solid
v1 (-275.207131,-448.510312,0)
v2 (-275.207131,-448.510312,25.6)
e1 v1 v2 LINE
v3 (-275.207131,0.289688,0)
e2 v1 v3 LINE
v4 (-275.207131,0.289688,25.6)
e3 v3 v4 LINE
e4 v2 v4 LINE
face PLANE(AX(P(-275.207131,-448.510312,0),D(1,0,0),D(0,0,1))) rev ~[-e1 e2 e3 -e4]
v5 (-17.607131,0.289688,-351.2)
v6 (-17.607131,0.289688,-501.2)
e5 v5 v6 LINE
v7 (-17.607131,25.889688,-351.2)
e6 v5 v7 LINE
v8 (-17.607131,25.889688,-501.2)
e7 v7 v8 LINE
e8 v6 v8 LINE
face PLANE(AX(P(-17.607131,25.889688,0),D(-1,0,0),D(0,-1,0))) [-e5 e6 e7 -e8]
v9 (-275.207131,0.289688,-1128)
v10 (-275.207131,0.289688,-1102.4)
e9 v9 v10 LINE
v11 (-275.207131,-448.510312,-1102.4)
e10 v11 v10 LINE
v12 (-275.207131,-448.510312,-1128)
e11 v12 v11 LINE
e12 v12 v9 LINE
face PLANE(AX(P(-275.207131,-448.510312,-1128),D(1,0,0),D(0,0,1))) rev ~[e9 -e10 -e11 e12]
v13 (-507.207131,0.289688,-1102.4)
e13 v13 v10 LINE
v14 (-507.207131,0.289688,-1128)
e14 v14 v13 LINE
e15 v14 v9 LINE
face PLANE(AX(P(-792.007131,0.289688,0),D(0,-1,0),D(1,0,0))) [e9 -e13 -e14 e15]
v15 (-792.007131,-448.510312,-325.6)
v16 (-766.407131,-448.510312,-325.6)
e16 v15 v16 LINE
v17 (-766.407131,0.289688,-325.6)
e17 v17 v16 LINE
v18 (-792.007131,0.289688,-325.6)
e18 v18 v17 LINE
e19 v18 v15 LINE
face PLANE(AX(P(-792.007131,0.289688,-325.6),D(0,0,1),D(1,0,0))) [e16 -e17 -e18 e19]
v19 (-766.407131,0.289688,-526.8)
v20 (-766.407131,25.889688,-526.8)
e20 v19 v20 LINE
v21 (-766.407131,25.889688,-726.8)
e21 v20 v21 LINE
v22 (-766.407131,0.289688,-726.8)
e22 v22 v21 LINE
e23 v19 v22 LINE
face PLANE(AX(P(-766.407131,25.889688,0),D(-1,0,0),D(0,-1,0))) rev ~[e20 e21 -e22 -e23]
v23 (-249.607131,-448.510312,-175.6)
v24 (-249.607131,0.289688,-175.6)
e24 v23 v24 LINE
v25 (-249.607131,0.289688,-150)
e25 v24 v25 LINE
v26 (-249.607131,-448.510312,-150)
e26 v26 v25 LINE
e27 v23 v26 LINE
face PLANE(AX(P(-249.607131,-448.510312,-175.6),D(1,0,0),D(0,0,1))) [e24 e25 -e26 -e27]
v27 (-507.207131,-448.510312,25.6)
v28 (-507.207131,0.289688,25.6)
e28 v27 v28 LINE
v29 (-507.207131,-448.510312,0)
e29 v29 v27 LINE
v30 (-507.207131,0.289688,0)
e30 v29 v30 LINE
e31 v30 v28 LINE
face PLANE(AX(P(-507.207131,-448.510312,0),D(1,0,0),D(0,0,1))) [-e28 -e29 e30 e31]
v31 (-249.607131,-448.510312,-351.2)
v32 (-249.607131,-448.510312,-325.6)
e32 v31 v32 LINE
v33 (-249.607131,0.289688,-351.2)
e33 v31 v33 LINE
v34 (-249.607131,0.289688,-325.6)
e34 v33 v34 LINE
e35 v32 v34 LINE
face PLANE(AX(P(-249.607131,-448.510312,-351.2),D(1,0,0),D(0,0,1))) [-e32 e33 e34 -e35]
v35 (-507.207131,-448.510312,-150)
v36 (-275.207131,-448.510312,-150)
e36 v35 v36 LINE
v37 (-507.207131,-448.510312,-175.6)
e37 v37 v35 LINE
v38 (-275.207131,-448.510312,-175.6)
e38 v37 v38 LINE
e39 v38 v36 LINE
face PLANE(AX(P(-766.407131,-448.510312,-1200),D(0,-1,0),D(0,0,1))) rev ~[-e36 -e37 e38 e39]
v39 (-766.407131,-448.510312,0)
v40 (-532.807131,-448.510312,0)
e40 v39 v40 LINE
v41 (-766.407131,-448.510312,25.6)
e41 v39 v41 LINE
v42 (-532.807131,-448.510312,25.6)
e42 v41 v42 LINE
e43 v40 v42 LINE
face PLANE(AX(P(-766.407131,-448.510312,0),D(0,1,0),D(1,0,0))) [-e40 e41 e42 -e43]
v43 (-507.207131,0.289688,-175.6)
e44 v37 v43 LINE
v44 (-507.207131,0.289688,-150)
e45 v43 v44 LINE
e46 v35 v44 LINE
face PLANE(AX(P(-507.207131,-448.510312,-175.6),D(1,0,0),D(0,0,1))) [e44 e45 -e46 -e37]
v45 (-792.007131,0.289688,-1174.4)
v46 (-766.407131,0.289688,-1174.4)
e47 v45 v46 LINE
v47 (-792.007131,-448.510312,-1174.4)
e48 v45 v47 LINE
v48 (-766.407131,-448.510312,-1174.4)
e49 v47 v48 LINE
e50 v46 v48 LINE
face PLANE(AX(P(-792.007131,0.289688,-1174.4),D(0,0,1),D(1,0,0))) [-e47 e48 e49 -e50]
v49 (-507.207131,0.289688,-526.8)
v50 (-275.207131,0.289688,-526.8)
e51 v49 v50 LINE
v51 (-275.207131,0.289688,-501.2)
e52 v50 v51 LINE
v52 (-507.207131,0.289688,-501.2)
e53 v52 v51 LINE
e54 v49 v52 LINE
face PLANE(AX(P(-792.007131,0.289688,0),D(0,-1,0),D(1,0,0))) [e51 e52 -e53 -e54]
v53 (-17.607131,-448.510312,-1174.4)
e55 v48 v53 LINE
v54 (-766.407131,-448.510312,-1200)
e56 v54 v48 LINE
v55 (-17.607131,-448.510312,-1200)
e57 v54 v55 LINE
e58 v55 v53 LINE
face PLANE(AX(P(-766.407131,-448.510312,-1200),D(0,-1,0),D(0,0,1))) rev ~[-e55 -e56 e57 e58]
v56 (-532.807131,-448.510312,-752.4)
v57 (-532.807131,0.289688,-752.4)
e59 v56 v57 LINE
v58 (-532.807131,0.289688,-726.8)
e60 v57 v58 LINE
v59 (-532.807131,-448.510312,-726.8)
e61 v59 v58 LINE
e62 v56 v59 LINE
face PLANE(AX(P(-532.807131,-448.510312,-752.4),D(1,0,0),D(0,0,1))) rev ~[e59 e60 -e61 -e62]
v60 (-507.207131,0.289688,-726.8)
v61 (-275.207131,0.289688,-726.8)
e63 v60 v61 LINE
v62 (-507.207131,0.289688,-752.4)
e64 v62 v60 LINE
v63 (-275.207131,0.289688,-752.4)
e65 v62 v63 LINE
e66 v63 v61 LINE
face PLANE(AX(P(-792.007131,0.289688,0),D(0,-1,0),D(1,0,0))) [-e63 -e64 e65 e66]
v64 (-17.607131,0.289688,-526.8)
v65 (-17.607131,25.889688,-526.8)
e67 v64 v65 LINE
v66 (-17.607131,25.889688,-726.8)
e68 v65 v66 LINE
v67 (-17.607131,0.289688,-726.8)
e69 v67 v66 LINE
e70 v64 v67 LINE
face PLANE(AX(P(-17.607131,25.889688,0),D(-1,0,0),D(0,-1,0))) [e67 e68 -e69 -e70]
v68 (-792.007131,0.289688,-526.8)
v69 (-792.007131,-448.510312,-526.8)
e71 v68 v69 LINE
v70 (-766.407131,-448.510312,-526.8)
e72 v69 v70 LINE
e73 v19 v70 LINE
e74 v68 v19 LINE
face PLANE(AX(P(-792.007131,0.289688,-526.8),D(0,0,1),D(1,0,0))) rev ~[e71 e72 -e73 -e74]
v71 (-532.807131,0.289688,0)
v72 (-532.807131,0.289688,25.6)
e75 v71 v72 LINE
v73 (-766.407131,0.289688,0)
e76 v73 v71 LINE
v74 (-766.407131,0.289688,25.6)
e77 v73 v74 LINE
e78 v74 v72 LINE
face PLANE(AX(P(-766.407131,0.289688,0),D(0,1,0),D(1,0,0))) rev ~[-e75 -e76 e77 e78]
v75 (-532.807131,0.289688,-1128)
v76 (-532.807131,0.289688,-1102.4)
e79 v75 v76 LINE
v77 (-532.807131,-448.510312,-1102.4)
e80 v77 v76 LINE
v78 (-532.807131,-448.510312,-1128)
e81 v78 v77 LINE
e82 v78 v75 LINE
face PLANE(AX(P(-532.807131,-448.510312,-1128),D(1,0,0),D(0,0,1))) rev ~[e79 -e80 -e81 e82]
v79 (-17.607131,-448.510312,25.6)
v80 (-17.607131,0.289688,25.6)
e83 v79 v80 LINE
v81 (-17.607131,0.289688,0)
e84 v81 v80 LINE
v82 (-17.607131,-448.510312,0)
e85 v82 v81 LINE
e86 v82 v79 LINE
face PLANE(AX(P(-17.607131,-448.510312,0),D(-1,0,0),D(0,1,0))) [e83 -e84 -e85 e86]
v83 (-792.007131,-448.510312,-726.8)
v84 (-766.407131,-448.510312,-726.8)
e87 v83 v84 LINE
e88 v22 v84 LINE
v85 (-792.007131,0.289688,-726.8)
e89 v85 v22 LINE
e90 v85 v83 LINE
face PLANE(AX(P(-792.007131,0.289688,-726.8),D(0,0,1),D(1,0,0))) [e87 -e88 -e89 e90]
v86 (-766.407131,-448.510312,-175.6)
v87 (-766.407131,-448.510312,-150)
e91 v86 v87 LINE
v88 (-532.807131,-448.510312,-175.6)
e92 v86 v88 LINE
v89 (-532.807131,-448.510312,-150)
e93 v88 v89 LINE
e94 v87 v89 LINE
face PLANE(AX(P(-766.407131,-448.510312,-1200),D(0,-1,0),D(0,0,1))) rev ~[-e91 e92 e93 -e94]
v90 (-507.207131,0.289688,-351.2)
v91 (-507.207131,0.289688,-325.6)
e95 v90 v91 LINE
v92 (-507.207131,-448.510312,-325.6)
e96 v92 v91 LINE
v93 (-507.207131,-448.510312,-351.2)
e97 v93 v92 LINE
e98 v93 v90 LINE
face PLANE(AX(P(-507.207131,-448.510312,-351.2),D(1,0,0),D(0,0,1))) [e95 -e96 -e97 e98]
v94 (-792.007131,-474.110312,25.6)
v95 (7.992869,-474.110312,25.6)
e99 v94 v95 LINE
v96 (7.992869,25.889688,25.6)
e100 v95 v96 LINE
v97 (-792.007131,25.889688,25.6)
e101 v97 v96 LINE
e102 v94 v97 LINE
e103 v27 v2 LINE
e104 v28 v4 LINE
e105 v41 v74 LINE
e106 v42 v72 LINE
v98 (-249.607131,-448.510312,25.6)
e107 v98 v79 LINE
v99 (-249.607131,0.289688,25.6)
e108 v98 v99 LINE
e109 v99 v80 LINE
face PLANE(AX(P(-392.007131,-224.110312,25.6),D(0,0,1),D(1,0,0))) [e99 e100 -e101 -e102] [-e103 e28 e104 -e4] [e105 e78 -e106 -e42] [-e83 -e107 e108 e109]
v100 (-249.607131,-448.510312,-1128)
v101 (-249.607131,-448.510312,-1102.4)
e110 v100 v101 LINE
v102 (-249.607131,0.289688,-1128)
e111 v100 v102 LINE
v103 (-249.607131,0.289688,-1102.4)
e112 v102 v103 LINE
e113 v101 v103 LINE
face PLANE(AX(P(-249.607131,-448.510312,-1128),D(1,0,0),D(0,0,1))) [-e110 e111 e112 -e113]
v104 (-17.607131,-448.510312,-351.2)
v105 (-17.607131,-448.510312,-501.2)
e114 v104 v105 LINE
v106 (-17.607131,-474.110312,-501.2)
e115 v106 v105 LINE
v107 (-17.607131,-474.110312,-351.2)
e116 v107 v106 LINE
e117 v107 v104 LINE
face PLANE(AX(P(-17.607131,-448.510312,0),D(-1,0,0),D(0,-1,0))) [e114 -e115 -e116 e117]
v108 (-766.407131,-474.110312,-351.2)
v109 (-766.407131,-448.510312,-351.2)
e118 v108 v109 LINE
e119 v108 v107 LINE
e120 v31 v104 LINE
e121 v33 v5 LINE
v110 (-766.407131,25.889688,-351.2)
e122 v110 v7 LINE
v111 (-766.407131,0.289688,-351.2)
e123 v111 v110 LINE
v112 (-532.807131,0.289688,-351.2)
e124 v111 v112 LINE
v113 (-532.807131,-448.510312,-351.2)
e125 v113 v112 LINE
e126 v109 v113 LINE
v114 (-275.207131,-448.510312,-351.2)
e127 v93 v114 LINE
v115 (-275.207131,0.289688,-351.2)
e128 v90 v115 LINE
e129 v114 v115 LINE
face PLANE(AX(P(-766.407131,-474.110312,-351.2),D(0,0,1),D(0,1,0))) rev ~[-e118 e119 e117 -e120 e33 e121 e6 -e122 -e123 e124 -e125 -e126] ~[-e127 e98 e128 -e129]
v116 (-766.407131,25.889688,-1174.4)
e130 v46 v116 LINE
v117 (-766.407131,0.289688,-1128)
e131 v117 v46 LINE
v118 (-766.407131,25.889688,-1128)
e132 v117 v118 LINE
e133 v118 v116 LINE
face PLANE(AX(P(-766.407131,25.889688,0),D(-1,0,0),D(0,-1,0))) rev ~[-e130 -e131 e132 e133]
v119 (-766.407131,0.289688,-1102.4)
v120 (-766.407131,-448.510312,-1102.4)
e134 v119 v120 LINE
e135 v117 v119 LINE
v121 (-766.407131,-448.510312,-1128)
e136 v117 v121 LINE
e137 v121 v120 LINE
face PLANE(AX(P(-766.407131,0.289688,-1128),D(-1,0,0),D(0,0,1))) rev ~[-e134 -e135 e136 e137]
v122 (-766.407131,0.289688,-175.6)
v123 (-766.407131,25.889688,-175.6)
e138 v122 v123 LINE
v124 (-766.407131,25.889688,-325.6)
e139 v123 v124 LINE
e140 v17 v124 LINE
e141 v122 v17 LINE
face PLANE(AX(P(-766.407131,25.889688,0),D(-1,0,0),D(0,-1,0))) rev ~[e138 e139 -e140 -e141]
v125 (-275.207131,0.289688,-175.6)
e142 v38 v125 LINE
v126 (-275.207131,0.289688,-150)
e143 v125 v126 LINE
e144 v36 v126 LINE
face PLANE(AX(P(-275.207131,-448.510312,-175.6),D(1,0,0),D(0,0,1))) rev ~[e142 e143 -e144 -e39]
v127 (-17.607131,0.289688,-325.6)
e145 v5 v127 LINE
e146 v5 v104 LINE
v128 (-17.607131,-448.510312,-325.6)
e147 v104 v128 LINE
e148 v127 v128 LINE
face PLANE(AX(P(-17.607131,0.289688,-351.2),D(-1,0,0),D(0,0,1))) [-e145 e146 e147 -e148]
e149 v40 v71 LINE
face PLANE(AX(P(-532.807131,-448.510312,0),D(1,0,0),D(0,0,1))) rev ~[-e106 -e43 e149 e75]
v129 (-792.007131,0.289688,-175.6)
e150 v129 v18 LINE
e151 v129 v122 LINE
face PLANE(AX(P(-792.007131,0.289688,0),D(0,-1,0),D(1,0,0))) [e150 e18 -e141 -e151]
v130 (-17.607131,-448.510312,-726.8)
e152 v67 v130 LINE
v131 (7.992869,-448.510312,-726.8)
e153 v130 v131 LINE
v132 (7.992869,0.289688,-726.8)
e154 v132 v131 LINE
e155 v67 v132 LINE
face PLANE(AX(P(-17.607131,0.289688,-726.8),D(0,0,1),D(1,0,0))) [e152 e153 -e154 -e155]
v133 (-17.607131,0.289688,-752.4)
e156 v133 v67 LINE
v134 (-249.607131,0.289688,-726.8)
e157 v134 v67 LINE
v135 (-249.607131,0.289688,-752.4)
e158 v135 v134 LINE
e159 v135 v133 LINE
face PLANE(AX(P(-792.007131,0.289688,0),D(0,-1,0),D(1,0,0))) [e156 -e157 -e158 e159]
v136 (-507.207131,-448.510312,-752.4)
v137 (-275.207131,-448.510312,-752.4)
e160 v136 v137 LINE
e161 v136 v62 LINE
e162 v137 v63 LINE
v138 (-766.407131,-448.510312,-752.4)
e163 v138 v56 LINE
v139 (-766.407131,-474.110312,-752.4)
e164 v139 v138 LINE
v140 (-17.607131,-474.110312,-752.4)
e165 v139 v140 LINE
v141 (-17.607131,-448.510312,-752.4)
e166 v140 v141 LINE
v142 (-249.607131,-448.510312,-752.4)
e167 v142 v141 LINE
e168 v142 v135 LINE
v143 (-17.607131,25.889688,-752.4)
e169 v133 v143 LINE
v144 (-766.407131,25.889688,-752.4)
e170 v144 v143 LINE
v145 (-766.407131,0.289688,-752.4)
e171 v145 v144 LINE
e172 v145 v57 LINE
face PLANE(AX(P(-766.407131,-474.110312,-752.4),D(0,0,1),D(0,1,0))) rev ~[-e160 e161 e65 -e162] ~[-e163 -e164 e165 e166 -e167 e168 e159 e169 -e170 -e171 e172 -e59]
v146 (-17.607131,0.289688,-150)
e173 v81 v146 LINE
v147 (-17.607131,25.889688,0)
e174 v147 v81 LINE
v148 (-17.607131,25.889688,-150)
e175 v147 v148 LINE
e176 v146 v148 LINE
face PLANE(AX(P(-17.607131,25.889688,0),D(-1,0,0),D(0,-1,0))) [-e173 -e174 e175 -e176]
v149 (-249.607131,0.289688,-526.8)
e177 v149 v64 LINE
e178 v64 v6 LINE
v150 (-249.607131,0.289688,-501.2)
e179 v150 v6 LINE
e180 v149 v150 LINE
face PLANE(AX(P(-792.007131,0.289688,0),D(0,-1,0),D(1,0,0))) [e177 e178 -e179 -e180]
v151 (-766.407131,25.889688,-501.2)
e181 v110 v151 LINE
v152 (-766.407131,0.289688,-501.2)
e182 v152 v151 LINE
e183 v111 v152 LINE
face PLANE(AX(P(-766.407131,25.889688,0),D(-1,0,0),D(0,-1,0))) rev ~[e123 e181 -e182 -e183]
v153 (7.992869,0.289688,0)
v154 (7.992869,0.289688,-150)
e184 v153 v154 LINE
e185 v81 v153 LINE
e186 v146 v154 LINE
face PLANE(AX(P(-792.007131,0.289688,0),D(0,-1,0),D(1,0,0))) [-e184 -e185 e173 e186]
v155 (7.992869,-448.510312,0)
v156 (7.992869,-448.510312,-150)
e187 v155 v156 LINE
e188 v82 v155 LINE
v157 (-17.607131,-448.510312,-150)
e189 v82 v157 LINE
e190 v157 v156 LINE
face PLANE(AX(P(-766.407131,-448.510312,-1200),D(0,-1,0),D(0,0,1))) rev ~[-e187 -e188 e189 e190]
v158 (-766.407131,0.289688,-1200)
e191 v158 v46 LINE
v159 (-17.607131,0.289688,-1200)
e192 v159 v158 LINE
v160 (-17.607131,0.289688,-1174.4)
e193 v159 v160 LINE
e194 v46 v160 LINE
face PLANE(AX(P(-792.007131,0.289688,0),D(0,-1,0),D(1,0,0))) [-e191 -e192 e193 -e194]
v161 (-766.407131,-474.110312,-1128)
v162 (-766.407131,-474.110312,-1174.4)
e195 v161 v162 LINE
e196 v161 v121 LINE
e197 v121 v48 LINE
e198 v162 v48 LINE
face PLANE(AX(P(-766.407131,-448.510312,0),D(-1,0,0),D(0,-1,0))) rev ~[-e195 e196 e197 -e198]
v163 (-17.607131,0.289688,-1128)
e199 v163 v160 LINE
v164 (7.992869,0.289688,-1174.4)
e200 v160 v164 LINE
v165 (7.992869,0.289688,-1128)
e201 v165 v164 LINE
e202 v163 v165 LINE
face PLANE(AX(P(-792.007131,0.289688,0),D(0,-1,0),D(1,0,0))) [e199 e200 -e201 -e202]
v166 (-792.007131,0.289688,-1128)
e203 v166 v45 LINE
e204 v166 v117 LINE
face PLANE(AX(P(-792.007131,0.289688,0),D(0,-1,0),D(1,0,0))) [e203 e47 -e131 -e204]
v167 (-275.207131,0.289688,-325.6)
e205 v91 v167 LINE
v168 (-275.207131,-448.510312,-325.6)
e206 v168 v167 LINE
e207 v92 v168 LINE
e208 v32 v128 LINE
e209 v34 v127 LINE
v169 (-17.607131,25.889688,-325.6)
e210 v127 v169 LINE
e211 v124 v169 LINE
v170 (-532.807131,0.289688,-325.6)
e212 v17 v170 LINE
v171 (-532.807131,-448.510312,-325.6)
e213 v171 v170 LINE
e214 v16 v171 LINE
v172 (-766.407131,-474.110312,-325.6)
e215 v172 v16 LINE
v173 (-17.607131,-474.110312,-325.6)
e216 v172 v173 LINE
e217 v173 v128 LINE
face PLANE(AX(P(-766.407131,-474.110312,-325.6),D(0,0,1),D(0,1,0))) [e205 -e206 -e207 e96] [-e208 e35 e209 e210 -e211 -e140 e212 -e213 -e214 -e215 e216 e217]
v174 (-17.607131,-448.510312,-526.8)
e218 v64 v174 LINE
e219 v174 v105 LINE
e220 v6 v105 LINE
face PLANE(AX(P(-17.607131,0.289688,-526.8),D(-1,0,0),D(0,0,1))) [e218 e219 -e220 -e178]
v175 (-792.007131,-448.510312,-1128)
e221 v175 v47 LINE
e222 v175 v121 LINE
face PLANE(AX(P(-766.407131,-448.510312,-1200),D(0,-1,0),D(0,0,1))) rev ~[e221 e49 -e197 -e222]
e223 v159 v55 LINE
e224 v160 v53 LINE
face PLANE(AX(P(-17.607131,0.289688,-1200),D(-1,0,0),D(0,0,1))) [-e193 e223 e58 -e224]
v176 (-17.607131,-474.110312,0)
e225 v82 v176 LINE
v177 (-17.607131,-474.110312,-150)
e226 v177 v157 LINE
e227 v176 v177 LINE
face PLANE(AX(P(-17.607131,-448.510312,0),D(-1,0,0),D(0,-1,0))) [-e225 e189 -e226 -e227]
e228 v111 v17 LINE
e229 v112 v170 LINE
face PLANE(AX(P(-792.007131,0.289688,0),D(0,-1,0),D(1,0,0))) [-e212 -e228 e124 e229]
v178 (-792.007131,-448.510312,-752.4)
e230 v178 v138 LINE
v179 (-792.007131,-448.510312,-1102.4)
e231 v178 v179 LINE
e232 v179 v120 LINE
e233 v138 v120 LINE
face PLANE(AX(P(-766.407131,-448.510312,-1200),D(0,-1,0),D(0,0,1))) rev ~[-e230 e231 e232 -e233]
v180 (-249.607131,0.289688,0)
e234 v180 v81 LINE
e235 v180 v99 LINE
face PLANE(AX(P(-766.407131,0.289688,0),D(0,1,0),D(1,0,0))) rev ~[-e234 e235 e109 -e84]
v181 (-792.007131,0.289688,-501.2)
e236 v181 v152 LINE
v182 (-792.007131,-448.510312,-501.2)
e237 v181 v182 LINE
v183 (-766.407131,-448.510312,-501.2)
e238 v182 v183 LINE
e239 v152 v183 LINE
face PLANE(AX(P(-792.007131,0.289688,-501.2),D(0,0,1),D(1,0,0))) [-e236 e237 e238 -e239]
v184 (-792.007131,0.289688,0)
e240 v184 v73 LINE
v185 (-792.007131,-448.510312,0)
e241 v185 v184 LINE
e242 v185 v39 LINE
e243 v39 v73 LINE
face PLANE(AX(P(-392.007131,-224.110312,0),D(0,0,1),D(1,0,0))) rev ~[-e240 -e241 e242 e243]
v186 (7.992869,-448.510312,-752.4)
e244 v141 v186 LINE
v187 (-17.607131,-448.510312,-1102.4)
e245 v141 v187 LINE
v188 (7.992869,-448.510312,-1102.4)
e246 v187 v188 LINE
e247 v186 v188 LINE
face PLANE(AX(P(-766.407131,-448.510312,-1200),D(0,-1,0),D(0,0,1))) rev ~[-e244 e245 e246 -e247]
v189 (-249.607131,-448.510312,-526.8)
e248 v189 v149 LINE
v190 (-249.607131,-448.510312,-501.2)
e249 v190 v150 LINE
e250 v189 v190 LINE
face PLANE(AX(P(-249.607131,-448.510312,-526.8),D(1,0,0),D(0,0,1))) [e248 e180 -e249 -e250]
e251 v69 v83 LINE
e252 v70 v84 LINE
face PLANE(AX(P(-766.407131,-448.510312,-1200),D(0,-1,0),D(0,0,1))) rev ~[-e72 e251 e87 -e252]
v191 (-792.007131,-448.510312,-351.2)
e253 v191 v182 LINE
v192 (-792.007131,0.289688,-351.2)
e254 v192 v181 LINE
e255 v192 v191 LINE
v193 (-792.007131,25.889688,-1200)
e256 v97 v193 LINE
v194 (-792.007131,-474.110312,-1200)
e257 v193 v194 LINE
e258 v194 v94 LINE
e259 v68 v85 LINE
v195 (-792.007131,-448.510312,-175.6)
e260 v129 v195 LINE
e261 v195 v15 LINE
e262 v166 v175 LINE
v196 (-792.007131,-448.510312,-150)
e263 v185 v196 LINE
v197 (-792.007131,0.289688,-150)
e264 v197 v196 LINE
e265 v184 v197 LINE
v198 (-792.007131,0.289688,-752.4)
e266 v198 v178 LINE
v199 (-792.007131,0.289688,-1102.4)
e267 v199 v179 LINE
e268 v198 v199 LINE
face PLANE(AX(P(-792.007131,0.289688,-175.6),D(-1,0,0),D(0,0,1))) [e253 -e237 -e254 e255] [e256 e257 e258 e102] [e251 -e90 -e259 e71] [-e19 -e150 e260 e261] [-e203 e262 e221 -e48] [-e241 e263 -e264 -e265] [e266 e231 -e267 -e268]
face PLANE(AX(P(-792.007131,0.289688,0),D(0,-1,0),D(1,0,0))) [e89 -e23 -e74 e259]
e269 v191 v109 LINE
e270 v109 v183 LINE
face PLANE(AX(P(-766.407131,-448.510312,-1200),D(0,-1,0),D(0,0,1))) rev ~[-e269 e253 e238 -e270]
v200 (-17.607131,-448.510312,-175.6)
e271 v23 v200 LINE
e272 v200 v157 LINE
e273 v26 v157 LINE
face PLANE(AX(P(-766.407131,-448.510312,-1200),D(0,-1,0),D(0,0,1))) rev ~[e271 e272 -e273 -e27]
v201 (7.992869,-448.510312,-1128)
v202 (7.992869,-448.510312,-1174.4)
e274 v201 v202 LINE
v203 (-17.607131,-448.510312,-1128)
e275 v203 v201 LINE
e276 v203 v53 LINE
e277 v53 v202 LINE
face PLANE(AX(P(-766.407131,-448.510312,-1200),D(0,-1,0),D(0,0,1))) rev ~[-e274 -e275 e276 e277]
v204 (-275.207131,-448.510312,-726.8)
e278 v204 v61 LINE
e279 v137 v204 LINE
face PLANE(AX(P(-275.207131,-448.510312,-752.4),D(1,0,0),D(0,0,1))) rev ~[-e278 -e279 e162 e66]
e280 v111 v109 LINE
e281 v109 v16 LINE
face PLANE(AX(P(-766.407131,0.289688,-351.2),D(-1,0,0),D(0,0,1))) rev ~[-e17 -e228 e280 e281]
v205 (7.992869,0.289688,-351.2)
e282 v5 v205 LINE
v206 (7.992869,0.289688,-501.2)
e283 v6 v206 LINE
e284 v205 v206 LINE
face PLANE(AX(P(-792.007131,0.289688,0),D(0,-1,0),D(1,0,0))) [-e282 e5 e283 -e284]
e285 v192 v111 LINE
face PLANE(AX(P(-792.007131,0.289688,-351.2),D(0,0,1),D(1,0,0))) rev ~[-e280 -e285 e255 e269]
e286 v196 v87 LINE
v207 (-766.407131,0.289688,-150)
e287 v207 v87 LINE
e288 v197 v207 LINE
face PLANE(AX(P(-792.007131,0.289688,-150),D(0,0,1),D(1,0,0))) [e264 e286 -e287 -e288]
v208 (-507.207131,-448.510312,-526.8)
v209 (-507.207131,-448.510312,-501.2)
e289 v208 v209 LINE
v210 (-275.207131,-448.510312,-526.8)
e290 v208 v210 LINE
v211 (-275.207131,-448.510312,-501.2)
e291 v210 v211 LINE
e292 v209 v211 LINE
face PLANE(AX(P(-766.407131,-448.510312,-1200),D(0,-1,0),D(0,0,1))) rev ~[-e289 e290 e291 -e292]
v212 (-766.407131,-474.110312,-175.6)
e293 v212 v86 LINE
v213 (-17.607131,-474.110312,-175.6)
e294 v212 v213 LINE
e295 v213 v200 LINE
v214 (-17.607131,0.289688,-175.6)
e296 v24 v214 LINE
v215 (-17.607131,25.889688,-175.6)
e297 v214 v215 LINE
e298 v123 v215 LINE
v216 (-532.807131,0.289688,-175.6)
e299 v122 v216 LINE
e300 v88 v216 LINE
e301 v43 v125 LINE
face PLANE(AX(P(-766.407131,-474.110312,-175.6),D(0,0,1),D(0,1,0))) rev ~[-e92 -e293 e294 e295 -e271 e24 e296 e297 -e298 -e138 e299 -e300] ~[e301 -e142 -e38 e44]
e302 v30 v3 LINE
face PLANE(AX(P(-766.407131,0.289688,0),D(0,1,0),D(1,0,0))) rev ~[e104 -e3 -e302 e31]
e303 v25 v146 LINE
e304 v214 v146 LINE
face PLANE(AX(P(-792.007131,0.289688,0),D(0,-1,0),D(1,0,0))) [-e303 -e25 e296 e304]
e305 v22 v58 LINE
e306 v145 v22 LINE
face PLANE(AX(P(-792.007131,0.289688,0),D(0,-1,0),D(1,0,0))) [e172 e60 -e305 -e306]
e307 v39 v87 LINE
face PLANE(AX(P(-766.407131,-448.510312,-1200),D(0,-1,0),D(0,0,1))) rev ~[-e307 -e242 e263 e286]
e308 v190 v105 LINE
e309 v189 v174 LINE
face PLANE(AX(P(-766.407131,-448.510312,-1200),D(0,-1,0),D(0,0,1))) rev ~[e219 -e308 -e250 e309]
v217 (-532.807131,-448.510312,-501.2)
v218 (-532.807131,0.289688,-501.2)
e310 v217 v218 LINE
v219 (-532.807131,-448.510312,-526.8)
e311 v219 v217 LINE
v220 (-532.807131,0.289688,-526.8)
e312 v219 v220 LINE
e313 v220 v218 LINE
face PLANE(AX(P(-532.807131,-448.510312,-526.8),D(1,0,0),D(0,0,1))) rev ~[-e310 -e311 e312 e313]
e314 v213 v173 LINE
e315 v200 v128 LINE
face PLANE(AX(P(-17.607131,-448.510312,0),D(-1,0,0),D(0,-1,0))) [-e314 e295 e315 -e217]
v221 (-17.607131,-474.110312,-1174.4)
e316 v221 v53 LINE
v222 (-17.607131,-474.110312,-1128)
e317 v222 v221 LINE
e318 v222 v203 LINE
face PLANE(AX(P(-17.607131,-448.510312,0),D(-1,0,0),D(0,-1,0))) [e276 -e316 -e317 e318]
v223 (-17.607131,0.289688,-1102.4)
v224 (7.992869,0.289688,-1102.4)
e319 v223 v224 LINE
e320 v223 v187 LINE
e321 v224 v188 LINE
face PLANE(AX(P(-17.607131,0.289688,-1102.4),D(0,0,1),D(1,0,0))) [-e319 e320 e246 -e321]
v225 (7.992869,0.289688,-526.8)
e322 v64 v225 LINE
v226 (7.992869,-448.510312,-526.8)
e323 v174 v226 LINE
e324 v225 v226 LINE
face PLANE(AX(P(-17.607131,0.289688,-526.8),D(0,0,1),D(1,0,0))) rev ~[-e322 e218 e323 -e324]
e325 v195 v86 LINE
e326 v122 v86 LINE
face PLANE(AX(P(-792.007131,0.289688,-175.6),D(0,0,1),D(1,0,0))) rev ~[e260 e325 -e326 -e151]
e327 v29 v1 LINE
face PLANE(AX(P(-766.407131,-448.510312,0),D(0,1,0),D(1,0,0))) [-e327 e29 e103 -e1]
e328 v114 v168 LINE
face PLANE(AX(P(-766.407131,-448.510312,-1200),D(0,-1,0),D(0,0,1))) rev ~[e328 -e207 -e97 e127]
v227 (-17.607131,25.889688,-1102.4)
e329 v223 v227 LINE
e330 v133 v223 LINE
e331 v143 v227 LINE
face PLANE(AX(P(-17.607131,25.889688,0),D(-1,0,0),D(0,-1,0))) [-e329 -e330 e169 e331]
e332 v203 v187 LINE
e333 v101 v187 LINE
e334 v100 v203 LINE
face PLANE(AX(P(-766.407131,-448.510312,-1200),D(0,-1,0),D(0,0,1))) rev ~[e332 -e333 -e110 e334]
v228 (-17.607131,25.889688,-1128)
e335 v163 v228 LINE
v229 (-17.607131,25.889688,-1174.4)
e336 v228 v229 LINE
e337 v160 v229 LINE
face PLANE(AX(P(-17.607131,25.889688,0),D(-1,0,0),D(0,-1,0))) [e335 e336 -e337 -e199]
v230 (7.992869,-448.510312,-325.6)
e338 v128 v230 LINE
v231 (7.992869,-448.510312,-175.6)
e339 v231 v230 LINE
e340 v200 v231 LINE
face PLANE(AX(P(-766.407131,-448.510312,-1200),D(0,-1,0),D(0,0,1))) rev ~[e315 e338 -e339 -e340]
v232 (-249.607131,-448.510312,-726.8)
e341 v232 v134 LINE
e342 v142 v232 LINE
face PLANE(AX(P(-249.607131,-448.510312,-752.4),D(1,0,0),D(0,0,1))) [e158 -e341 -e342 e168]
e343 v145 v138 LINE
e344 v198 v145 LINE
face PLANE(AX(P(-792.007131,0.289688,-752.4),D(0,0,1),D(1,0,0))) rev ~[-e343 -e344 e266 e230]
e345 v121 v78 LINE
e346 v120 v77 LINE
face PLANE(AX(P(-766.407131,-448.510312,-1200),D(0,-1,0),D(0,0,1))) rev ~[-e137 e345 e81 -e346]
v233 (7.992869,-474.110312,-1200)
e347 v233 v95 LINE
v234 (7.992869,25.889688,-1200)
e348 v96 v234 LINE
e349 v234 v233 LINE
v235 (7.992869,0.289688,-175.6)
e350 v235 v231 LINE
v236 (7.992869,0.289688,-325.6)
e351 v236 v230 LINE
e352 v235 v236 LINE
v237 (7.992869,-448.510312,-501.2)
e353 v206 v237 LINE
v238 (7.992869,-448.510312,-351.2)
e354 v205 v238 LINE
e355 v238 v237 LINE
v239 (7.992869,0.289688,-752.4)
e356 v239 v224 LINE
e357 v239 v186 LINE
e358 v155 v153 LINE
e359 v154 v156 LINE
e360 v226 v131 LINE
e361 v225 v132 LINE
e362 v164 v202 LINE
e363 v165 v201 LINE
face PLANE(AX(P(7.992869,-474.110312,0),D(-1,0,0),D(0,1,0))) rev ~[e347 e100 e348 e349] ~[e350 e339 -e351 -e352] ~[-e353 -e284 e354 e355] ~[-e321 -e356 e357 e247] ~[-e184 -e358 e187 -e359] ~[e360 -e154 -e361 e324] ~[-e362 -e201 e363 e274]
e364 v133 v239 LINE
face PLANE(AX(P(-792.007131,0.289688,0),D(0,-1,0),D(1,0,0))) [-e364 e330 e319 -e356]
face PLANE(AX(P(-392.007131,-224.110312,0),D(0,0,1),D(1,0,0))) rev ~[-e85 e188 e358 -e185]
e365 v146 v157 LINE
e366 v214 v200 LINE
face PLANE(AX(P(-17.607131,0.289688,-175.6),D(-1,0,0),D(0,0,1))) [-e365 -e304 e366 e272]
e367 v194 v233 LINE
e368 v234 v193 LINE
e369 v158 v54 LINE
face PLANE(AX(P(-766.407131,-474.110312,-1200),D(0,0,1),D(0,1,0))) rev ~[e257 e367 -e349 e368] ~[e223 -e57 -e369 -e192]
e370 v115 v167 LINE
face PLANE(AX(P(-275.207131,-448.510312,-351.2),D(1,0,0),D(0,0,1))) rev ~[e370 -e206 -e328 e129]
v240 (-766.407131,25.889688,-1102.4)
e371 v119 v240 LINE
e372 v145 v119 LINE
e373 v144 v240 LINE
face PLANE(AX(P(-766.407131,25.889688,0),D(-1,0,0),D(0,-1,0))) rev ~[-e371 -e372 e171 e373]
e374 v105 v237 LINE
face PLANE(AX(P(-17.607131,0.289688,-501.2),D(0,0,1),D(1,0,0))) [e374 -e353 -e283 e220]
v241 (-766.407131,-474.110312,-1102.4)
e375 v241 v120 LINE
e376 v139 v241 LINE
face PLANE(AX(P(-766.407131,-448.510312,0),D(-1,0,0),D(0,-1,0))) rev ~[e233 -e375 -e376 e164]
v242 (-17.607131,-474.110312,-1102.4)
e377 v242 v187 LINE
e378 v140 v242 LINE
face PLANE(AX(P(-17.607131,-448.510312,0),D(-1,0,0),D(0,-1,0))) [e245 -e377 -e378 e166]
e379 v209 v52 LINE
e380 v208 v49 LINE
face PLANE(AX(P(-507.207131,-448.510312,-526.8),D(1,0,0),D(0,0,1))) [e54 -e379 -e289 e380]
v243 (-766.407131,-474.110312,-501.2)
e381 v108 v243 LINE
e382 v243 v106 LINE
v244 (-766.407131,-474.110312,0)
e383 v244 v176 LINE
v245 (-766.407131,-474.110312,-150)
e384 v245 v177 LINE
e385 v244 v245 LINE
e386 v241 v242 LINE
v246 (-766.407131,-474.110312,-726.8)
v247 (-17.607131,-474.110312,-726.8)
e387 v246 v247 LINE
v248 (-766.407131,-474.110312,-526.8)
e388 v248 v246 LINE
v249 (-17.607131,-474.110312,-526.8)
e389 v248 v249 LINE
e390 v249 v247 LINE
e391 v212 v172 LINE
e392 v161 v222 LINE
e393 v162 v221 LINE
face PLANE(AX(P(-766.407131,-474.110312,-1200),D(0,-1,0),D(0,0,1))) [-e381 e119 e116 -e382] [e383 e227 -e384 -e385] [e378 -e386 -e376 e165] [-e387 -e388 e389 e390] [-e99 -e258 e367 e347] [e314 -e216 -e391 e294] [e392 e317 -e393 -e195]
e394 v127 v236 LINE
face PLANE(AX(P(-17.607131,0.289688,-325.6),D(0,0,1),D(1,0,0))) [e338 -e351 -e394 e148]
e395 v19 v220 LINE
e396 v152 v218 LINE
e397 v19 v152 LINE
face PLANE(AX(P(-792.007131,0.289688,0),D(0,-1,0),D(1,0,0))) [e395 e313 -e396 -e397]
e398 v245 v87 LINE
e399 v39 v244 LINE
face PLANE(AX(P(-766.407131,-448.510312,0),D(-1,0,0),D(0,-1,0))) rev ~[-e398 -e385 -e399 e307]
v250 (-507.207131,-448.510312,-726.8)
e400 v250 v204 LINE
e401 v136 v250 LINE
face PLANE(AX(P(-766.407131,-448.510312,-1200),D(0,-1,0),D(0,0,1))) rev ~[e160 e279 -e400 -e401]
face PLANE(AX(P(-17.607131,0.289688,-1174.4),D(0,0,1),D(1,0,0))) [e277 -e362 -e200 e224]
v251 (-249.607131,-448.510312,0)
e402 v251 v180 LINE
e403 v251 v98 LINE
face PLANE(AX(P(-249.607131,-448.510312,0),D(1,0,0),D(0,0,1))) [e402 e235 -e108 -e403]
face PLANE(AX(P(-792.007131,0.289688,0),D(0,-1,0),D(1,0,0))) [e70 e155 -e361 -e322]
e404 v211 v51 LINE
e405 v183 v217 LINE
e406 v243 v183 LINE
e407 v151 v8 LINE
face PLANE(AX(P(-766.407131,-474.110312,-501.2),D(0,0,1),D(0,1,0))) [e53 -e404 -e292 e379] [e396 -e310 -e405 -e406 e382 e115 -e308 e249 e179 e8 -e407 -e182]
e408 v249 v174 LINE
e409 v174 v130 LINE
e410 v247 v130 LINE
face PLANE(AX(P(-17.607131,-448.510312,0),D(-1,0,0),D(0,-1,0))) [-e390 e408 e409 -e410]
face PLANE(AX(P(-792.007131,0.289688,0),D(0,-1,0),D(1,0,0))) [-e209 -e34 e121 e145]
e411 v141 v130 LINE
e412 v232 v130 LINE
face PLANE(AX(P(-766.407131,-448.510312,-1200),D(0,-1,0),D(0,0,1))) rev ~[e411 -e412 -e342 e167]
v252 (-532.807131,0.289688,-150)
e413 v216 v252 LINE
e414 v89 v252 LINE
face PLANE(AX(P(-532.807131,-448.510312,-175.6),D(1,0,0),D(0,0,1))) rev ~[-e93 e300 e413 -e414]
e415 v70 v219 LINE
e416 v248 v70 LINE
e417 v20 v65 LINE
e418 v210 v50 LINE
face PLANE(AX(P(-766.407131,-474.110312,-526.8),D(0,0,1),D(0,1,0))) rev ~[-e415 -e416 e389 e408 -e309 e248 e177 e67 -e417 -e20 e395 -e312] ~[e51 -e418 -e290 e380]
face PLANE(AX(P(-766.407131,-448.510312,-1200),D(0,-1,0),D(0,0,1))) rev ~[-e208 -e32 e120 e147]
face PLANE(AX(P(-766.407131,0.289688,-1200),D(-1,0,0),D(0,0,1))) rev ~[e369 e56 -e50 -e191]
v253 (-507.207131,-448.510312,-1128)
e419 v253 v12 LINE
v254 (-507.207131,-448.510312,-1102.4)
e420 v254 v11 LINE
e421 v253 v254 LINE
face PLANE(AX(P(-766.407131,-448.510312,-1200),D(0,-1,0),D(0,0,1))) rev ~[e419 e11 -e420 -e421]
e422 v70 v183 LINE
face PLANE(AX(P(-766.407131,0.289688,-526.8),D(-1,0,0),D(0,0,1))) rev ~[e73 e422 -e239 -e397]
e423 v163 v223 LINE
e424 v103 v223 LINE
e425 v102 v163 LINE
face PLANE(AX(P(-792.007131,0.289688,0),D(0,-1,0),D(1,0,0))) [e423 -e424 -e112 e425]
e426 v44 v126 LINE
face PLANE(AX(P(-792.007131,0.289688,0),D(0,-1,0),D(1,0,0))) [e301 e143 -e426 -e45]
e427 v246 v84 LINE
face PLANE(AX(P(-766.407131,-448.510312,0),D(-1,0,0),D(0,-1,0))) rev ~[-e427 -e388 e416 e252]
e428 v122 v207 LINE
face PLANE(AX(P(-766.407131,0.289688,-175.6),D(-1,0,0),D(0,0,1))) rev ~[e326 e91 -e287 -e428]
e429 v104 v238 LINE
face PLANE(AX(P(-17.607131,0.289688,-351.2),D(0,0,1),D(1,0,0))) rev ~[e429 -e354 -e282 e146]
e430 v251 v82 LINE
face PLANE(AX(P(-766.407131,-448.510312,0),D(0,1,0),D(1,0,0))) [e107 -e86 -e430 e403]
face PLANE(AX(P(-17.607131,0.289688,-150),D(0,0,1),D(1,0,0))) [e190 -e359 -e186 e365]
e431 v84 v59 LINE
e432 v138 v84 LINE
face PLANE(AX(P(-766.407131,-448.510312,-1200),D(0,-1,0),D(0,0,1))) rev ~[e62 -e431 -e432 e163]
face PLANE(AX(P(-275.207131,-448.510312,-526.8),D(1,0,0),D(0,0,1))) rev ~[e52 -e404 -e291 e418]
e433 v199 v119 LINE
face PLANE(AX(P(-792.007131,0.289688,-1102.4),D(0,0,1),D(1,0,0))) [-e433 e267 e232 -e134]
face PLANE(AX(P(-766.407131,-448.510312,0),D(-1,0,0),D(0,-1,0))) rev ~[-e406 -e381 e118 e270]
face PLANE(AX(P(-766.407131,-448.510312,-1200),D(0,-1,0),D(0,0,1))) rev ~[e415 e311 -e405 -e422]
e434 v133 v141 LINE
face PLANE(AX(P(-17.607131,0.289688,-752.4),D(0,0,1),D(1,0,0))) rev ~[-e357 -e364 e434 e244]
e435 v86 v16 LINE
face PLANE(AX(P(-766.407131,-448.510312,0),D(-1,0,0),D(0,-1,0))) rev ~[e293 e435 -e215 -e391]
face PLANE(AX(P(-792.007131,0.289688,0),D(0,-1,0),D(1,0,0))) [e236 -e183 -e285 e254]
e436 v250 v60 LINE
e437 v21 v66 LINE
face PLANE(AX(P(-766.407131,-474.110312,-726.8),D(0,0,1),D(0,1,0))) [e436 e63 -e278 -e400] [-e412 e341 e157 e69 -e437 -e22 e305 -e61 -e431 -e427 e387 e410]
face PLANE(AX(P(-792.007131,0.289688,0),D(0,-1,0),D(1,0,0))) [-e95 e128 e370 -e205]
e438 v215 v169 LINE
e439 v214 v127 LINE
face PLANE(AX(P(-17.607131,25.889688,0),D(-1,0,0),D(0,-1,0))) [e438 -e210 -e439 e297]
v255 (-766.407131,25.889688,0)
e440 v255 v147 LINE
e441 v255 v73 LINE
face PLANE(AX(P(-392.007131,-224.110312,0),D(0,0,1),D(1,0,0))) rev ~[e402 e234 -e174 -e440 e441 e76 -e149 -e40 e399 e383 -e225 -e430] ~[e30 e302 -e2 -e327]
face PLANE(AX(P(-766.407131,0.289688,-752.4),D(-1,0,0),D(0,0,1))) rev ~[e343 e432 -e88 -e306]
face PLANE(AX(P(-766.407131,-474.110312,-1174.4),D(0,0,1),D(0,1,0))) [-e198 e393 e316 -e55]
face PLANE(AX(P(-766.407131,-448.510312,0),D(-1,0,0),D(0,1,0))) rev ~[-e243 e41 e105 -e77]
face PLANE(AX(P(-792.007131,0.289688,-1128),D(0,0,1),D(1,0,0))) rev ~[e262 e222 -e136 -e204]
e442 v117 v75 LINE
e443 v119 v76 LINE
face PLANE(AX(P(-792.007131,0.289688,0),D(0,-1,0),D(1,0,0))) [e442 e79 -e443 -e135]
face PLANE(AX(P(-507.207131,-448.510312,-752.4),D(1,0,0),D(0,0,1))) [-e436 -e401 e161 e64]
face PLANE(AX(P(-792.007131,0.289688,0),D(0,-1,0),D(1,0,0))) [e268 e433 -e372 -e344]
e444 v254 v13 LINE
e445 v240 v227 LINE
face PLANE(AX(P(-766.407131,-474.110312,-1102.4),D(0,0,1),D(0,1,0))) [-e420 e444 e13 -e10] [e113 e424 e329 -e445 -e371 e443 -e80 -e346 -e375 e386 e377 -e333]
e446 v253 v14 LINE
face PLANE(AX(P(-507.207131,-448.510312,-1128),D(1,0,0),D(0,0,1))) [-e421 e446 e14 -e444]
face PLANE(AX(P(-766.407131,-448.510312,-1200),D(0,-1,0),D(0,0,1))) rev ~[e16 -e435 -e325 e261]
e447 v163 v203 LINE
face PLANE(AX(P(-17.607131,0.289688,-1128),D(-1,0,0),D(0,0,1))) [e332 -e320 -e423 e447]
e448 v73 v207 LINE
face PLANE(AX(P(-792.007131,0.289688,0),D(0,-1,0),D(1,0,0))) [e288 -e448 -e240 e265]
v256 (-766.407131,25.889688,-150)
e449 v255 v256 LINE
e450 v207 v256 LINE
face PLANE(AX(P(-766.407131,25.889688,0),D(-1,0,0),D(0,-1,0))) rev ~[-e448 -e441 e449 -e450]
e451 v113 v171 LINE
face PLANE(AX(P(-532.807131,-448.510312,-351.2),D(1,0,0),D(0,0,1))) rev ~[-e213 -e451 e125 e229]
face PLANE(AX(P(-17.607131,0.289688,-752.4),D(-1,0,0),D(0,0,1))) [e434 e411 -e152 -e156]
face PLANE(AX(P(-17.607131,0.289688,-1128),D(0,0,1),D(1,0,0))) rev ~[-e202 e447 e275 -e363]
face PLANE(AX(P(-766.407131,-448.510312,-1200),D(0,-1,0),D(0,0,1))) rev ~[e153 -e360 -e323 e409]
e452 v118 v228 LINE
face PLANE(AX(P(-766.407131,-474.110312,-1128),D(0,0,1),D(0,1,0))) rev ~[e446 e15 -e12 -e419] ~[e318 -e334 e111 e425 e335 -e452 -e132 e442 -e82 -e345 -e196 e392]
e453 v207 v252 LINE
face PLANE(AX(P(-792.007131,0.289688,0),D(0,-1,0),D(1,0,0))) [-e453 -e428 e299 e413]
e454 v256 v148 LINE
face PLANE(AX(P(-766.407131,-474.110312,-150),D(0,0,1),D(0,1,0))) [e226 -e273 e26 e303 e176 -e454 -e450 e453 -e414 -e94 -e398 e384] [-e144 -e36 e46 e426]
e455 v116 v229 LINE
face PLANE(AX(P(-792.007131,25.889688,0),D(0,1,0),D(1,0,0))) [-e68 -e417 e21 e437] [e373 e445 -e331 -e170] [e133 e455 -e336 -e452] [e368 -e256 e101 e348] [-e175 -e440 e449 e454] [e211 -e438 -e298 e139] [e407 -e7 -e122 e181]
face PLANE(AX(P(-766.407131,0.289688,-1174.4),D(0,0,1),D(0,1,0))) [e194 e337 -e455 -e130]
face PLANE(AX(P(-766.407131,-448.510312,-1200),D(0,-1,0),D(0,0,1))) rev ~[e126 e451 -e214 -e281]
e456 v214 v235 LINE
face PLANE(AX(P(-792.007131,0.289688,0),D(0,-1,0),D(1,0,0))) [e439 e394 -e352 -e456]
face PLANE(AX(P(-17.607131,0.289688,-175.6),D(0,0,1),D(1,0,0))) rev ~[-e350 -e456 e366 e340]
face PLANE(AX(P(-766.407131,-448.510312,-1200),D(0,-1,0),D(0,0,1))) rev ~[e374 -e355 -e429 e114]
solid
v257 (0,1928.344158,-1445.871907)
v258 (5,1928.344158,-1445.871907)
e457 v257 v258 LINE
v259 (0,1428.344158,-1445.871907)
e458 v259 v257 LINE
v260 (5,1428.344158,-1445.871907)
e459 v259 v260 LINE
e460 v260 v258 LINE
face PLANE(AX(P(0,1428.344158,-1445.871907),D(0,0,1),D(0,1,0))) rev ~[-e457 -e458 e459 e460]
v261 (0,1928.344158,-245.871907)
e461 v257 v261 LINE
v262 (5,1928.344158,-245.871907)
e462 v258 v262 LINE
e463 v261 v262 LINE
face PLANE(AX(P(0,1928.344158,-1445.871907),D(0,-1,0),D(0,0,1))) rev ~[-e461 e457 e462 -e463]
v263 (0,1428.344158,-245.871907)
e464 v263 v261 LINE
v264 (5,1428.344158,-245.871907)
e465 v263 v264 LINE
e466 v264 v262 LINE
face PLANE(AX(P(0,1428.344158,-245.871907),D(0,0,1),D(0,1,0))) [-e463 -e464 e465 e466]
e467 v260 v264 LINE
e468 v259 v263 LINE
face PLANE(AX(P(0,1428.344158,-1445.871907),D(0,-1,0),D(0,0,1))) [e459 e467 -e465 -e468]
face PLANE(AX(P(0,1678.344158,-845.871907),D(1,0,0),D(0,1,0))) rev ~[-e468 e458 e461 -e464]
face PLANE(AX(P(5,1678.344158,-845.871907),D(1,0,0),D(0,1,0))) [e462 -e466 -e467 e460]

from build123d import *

# Parameters (mm, degrees)
F0_W      = 800
F0_H      = 500
F0_W_2    = 748.8
F0_H_2    = 448.8
F1_DEPTH  = 25.6
F2_W      = 25.6
F2_H      = 25.6
F3_DEPTH  = 1200
F4_W      = 25.6
F4_H      = 25.6
F5_DEPTH  = 748.8
F6_W      = 25.6
F6_H      = 25.6
F7_DEPTH  = 448.8
F8_W      = 25.6
F8_H      = 25.6
F9_DEPTH  = 448.8
F10_W     = 500
F10_H     = 1200
F11_DEPTH = 5


with BuildPart() as f1:
    # F0 (on Top) → F1 (new body)
    with BuildSketch(Plane.XY):
        with Locations((-392.007131, -224.110312)):
            Rectangle(F0_W, F0_H)
        with Locations((-392.007131, -224.110312)):
            Rectangle(F0_W_2, F0_H_2, mode=Mode.SUBTRACT)
    extrude(amount=F1_DEPTH)

    # F2 (on face) → F3 (join)
    with BuildSketch(Plane(origin=(0, 0, 0), x_dir=(1, 0, 0), z_dir=(0, 0, -1))):
        with Locations((-779.207131, 461.310312)):
            Rectangle(F2_W, F2_H)
        with Locations((-4.807131, 461.310312)):
            Rectangle(F2_W, F2_H)
        with Locations((-4.807131, -13.089688)):
            Rectangle(F2_W, F2_H)
        with Locations((-779.207131, -13.089688)):
            Rectangle(F2_W, F2_H)
    extrude(amount=F3_DEPTH)

    # F4 (on face) → F5 (join, through all)
    with BuildSketch(Plane.YZ.offset(-766.407131)):
        with Locations((-461.310312, -162.8)):
            Rectangle(F4_W, F4_H)
        with Locations((-461.310312, -338.4)):
            Rectangle(F4_W, F4_H)
        with Locations((-461.310312, -514)):
            Rectangle(F4_W, F4_H)
        with Locations((-461.310312, -739.6)):
            Rectangle(F4_W, F4_H)
        with Locations((-461.310312, -1187.2)):
            Rectangle(F4_W, F4_H)
        with Locations((-461.310312, -1115.2)):
            Rectangle(F4_W, F4_H)
        with Locations((13.089688, -162.8)):
            Rectangle(F4_W, F4_H)
        with Locations((13.089688, -338.4)):
            Rectangle(F4_W, F4_H)
        with Locations((13.089688, -514)):
            Rectangle(F4_W, F4_H)
        with Locations((13.089688, -739.6)):
            Rectangle(F4_W, F4_H)
        with Locations((13.089688, -1187.2)):
            Rectangle(F4_W, F4_H)
        with Locations((13.089688, -1115.2)):
            Rectangle(F4_W, F4_H)
    extrude(amount=F5_DEPTH)

    # F6 (on face) → F7 (join, through all)
    with BuildSketch(Plane.XZ.offset(-0.289688)):
        with Locations((-779.207131, -162.8)):
            Rectangle(F6_W, F6_H)
        with Locations((-779.207131, -338.4)):
            Rectangle(F6_W, F6_H)
        with Locations((-779.207131, -514)):
            Rectangle(F6_W, F6_H)
        with Locations((-779.207131, -739.6)):
            Rectangle(F6_W, F6_H)
        with Locations((-779.207131, -1187.2)):
            Rectangle(F6_W, F6_H)
        with Locations((-779.207131, -1115.2)):
            Rectangle(F6_W, F6_H)
        with Locations((-4.807131, -162.8)):
            Rectangle(F6_W, F6_H)
        with Locations((-4.807131, -338.4)):
            Rectangle(F6_W, F6_H)
        with Locations((-4.807131, -514)):
            Rectangle(F6_W, F6_H)
        with Locations((-4.807131, -739.6)):
            Rectangle(F6_W, F6_H)
        with Locations((-4.807131, -1187.2)):
            Rectangle(F6_W, F6_H)
        with Locations((-4.807131, -1115.2)):
            Rectangle(F6_W, F6_H)
    extrude(amount=F7_DEPTH)

    # F8 (on face) → F9 (join, through all)
    with BuildSketch(Plane(origin=(0, -448.510312, 0), x_dir=(-1, 0, 0), z_dir=(0, 1, 0))):
        with Locations((262.407131, 12.8)):
            Rectangle(F8_W, F8_H)
        with Locations((520.007131, 12.8)):
            Rectangle(F8_W, F8_H)
        with Locations((262.407131, -162.8)):
            Rectangle(F8_W, F8_H)
        with Locations((520.007131, -162.8)):
            Rectangle(F8_W, F8_H)
        with Locations((262.407131, -338.4)):
            Rectangle(F8_W, F8_H)
        with Locations((520.007131, -338.4)):
            Rectangle(F8_W, F8_H)
        with Locations((262.407131, -514)):
            Rectangle(F8_W, F8_H)
        with Locations((520.007131, -514)):
            Rectangle(F8_W, F8_H)
        with Locations((262.407131, -739.6)):
            Rectangle(F8_W, F8_H)
        with Locations((520.007131, -739.6)):
            Rectangle(F8_W, F8_H)
        with Locations((262.407131, -1115.2)):
            Rectangle(F8_W, F8_H)
        with Locations((520.007131, -1115.2)):
            Rectangle(F8_W, F8_H)
    extrude(amount=F9_DEPTH)


with BuildPart() as f11:
    # F10 (on Right) → F11 (new body)
    with BuildSketch(Plane.YZ):
        with Locations((1678.344158, -845.871907)):
            Rectangle(F10_W, F10_H)
    extrude(amount=F11_DEPTH)


solid = Compound([f1.part, f11.part])
